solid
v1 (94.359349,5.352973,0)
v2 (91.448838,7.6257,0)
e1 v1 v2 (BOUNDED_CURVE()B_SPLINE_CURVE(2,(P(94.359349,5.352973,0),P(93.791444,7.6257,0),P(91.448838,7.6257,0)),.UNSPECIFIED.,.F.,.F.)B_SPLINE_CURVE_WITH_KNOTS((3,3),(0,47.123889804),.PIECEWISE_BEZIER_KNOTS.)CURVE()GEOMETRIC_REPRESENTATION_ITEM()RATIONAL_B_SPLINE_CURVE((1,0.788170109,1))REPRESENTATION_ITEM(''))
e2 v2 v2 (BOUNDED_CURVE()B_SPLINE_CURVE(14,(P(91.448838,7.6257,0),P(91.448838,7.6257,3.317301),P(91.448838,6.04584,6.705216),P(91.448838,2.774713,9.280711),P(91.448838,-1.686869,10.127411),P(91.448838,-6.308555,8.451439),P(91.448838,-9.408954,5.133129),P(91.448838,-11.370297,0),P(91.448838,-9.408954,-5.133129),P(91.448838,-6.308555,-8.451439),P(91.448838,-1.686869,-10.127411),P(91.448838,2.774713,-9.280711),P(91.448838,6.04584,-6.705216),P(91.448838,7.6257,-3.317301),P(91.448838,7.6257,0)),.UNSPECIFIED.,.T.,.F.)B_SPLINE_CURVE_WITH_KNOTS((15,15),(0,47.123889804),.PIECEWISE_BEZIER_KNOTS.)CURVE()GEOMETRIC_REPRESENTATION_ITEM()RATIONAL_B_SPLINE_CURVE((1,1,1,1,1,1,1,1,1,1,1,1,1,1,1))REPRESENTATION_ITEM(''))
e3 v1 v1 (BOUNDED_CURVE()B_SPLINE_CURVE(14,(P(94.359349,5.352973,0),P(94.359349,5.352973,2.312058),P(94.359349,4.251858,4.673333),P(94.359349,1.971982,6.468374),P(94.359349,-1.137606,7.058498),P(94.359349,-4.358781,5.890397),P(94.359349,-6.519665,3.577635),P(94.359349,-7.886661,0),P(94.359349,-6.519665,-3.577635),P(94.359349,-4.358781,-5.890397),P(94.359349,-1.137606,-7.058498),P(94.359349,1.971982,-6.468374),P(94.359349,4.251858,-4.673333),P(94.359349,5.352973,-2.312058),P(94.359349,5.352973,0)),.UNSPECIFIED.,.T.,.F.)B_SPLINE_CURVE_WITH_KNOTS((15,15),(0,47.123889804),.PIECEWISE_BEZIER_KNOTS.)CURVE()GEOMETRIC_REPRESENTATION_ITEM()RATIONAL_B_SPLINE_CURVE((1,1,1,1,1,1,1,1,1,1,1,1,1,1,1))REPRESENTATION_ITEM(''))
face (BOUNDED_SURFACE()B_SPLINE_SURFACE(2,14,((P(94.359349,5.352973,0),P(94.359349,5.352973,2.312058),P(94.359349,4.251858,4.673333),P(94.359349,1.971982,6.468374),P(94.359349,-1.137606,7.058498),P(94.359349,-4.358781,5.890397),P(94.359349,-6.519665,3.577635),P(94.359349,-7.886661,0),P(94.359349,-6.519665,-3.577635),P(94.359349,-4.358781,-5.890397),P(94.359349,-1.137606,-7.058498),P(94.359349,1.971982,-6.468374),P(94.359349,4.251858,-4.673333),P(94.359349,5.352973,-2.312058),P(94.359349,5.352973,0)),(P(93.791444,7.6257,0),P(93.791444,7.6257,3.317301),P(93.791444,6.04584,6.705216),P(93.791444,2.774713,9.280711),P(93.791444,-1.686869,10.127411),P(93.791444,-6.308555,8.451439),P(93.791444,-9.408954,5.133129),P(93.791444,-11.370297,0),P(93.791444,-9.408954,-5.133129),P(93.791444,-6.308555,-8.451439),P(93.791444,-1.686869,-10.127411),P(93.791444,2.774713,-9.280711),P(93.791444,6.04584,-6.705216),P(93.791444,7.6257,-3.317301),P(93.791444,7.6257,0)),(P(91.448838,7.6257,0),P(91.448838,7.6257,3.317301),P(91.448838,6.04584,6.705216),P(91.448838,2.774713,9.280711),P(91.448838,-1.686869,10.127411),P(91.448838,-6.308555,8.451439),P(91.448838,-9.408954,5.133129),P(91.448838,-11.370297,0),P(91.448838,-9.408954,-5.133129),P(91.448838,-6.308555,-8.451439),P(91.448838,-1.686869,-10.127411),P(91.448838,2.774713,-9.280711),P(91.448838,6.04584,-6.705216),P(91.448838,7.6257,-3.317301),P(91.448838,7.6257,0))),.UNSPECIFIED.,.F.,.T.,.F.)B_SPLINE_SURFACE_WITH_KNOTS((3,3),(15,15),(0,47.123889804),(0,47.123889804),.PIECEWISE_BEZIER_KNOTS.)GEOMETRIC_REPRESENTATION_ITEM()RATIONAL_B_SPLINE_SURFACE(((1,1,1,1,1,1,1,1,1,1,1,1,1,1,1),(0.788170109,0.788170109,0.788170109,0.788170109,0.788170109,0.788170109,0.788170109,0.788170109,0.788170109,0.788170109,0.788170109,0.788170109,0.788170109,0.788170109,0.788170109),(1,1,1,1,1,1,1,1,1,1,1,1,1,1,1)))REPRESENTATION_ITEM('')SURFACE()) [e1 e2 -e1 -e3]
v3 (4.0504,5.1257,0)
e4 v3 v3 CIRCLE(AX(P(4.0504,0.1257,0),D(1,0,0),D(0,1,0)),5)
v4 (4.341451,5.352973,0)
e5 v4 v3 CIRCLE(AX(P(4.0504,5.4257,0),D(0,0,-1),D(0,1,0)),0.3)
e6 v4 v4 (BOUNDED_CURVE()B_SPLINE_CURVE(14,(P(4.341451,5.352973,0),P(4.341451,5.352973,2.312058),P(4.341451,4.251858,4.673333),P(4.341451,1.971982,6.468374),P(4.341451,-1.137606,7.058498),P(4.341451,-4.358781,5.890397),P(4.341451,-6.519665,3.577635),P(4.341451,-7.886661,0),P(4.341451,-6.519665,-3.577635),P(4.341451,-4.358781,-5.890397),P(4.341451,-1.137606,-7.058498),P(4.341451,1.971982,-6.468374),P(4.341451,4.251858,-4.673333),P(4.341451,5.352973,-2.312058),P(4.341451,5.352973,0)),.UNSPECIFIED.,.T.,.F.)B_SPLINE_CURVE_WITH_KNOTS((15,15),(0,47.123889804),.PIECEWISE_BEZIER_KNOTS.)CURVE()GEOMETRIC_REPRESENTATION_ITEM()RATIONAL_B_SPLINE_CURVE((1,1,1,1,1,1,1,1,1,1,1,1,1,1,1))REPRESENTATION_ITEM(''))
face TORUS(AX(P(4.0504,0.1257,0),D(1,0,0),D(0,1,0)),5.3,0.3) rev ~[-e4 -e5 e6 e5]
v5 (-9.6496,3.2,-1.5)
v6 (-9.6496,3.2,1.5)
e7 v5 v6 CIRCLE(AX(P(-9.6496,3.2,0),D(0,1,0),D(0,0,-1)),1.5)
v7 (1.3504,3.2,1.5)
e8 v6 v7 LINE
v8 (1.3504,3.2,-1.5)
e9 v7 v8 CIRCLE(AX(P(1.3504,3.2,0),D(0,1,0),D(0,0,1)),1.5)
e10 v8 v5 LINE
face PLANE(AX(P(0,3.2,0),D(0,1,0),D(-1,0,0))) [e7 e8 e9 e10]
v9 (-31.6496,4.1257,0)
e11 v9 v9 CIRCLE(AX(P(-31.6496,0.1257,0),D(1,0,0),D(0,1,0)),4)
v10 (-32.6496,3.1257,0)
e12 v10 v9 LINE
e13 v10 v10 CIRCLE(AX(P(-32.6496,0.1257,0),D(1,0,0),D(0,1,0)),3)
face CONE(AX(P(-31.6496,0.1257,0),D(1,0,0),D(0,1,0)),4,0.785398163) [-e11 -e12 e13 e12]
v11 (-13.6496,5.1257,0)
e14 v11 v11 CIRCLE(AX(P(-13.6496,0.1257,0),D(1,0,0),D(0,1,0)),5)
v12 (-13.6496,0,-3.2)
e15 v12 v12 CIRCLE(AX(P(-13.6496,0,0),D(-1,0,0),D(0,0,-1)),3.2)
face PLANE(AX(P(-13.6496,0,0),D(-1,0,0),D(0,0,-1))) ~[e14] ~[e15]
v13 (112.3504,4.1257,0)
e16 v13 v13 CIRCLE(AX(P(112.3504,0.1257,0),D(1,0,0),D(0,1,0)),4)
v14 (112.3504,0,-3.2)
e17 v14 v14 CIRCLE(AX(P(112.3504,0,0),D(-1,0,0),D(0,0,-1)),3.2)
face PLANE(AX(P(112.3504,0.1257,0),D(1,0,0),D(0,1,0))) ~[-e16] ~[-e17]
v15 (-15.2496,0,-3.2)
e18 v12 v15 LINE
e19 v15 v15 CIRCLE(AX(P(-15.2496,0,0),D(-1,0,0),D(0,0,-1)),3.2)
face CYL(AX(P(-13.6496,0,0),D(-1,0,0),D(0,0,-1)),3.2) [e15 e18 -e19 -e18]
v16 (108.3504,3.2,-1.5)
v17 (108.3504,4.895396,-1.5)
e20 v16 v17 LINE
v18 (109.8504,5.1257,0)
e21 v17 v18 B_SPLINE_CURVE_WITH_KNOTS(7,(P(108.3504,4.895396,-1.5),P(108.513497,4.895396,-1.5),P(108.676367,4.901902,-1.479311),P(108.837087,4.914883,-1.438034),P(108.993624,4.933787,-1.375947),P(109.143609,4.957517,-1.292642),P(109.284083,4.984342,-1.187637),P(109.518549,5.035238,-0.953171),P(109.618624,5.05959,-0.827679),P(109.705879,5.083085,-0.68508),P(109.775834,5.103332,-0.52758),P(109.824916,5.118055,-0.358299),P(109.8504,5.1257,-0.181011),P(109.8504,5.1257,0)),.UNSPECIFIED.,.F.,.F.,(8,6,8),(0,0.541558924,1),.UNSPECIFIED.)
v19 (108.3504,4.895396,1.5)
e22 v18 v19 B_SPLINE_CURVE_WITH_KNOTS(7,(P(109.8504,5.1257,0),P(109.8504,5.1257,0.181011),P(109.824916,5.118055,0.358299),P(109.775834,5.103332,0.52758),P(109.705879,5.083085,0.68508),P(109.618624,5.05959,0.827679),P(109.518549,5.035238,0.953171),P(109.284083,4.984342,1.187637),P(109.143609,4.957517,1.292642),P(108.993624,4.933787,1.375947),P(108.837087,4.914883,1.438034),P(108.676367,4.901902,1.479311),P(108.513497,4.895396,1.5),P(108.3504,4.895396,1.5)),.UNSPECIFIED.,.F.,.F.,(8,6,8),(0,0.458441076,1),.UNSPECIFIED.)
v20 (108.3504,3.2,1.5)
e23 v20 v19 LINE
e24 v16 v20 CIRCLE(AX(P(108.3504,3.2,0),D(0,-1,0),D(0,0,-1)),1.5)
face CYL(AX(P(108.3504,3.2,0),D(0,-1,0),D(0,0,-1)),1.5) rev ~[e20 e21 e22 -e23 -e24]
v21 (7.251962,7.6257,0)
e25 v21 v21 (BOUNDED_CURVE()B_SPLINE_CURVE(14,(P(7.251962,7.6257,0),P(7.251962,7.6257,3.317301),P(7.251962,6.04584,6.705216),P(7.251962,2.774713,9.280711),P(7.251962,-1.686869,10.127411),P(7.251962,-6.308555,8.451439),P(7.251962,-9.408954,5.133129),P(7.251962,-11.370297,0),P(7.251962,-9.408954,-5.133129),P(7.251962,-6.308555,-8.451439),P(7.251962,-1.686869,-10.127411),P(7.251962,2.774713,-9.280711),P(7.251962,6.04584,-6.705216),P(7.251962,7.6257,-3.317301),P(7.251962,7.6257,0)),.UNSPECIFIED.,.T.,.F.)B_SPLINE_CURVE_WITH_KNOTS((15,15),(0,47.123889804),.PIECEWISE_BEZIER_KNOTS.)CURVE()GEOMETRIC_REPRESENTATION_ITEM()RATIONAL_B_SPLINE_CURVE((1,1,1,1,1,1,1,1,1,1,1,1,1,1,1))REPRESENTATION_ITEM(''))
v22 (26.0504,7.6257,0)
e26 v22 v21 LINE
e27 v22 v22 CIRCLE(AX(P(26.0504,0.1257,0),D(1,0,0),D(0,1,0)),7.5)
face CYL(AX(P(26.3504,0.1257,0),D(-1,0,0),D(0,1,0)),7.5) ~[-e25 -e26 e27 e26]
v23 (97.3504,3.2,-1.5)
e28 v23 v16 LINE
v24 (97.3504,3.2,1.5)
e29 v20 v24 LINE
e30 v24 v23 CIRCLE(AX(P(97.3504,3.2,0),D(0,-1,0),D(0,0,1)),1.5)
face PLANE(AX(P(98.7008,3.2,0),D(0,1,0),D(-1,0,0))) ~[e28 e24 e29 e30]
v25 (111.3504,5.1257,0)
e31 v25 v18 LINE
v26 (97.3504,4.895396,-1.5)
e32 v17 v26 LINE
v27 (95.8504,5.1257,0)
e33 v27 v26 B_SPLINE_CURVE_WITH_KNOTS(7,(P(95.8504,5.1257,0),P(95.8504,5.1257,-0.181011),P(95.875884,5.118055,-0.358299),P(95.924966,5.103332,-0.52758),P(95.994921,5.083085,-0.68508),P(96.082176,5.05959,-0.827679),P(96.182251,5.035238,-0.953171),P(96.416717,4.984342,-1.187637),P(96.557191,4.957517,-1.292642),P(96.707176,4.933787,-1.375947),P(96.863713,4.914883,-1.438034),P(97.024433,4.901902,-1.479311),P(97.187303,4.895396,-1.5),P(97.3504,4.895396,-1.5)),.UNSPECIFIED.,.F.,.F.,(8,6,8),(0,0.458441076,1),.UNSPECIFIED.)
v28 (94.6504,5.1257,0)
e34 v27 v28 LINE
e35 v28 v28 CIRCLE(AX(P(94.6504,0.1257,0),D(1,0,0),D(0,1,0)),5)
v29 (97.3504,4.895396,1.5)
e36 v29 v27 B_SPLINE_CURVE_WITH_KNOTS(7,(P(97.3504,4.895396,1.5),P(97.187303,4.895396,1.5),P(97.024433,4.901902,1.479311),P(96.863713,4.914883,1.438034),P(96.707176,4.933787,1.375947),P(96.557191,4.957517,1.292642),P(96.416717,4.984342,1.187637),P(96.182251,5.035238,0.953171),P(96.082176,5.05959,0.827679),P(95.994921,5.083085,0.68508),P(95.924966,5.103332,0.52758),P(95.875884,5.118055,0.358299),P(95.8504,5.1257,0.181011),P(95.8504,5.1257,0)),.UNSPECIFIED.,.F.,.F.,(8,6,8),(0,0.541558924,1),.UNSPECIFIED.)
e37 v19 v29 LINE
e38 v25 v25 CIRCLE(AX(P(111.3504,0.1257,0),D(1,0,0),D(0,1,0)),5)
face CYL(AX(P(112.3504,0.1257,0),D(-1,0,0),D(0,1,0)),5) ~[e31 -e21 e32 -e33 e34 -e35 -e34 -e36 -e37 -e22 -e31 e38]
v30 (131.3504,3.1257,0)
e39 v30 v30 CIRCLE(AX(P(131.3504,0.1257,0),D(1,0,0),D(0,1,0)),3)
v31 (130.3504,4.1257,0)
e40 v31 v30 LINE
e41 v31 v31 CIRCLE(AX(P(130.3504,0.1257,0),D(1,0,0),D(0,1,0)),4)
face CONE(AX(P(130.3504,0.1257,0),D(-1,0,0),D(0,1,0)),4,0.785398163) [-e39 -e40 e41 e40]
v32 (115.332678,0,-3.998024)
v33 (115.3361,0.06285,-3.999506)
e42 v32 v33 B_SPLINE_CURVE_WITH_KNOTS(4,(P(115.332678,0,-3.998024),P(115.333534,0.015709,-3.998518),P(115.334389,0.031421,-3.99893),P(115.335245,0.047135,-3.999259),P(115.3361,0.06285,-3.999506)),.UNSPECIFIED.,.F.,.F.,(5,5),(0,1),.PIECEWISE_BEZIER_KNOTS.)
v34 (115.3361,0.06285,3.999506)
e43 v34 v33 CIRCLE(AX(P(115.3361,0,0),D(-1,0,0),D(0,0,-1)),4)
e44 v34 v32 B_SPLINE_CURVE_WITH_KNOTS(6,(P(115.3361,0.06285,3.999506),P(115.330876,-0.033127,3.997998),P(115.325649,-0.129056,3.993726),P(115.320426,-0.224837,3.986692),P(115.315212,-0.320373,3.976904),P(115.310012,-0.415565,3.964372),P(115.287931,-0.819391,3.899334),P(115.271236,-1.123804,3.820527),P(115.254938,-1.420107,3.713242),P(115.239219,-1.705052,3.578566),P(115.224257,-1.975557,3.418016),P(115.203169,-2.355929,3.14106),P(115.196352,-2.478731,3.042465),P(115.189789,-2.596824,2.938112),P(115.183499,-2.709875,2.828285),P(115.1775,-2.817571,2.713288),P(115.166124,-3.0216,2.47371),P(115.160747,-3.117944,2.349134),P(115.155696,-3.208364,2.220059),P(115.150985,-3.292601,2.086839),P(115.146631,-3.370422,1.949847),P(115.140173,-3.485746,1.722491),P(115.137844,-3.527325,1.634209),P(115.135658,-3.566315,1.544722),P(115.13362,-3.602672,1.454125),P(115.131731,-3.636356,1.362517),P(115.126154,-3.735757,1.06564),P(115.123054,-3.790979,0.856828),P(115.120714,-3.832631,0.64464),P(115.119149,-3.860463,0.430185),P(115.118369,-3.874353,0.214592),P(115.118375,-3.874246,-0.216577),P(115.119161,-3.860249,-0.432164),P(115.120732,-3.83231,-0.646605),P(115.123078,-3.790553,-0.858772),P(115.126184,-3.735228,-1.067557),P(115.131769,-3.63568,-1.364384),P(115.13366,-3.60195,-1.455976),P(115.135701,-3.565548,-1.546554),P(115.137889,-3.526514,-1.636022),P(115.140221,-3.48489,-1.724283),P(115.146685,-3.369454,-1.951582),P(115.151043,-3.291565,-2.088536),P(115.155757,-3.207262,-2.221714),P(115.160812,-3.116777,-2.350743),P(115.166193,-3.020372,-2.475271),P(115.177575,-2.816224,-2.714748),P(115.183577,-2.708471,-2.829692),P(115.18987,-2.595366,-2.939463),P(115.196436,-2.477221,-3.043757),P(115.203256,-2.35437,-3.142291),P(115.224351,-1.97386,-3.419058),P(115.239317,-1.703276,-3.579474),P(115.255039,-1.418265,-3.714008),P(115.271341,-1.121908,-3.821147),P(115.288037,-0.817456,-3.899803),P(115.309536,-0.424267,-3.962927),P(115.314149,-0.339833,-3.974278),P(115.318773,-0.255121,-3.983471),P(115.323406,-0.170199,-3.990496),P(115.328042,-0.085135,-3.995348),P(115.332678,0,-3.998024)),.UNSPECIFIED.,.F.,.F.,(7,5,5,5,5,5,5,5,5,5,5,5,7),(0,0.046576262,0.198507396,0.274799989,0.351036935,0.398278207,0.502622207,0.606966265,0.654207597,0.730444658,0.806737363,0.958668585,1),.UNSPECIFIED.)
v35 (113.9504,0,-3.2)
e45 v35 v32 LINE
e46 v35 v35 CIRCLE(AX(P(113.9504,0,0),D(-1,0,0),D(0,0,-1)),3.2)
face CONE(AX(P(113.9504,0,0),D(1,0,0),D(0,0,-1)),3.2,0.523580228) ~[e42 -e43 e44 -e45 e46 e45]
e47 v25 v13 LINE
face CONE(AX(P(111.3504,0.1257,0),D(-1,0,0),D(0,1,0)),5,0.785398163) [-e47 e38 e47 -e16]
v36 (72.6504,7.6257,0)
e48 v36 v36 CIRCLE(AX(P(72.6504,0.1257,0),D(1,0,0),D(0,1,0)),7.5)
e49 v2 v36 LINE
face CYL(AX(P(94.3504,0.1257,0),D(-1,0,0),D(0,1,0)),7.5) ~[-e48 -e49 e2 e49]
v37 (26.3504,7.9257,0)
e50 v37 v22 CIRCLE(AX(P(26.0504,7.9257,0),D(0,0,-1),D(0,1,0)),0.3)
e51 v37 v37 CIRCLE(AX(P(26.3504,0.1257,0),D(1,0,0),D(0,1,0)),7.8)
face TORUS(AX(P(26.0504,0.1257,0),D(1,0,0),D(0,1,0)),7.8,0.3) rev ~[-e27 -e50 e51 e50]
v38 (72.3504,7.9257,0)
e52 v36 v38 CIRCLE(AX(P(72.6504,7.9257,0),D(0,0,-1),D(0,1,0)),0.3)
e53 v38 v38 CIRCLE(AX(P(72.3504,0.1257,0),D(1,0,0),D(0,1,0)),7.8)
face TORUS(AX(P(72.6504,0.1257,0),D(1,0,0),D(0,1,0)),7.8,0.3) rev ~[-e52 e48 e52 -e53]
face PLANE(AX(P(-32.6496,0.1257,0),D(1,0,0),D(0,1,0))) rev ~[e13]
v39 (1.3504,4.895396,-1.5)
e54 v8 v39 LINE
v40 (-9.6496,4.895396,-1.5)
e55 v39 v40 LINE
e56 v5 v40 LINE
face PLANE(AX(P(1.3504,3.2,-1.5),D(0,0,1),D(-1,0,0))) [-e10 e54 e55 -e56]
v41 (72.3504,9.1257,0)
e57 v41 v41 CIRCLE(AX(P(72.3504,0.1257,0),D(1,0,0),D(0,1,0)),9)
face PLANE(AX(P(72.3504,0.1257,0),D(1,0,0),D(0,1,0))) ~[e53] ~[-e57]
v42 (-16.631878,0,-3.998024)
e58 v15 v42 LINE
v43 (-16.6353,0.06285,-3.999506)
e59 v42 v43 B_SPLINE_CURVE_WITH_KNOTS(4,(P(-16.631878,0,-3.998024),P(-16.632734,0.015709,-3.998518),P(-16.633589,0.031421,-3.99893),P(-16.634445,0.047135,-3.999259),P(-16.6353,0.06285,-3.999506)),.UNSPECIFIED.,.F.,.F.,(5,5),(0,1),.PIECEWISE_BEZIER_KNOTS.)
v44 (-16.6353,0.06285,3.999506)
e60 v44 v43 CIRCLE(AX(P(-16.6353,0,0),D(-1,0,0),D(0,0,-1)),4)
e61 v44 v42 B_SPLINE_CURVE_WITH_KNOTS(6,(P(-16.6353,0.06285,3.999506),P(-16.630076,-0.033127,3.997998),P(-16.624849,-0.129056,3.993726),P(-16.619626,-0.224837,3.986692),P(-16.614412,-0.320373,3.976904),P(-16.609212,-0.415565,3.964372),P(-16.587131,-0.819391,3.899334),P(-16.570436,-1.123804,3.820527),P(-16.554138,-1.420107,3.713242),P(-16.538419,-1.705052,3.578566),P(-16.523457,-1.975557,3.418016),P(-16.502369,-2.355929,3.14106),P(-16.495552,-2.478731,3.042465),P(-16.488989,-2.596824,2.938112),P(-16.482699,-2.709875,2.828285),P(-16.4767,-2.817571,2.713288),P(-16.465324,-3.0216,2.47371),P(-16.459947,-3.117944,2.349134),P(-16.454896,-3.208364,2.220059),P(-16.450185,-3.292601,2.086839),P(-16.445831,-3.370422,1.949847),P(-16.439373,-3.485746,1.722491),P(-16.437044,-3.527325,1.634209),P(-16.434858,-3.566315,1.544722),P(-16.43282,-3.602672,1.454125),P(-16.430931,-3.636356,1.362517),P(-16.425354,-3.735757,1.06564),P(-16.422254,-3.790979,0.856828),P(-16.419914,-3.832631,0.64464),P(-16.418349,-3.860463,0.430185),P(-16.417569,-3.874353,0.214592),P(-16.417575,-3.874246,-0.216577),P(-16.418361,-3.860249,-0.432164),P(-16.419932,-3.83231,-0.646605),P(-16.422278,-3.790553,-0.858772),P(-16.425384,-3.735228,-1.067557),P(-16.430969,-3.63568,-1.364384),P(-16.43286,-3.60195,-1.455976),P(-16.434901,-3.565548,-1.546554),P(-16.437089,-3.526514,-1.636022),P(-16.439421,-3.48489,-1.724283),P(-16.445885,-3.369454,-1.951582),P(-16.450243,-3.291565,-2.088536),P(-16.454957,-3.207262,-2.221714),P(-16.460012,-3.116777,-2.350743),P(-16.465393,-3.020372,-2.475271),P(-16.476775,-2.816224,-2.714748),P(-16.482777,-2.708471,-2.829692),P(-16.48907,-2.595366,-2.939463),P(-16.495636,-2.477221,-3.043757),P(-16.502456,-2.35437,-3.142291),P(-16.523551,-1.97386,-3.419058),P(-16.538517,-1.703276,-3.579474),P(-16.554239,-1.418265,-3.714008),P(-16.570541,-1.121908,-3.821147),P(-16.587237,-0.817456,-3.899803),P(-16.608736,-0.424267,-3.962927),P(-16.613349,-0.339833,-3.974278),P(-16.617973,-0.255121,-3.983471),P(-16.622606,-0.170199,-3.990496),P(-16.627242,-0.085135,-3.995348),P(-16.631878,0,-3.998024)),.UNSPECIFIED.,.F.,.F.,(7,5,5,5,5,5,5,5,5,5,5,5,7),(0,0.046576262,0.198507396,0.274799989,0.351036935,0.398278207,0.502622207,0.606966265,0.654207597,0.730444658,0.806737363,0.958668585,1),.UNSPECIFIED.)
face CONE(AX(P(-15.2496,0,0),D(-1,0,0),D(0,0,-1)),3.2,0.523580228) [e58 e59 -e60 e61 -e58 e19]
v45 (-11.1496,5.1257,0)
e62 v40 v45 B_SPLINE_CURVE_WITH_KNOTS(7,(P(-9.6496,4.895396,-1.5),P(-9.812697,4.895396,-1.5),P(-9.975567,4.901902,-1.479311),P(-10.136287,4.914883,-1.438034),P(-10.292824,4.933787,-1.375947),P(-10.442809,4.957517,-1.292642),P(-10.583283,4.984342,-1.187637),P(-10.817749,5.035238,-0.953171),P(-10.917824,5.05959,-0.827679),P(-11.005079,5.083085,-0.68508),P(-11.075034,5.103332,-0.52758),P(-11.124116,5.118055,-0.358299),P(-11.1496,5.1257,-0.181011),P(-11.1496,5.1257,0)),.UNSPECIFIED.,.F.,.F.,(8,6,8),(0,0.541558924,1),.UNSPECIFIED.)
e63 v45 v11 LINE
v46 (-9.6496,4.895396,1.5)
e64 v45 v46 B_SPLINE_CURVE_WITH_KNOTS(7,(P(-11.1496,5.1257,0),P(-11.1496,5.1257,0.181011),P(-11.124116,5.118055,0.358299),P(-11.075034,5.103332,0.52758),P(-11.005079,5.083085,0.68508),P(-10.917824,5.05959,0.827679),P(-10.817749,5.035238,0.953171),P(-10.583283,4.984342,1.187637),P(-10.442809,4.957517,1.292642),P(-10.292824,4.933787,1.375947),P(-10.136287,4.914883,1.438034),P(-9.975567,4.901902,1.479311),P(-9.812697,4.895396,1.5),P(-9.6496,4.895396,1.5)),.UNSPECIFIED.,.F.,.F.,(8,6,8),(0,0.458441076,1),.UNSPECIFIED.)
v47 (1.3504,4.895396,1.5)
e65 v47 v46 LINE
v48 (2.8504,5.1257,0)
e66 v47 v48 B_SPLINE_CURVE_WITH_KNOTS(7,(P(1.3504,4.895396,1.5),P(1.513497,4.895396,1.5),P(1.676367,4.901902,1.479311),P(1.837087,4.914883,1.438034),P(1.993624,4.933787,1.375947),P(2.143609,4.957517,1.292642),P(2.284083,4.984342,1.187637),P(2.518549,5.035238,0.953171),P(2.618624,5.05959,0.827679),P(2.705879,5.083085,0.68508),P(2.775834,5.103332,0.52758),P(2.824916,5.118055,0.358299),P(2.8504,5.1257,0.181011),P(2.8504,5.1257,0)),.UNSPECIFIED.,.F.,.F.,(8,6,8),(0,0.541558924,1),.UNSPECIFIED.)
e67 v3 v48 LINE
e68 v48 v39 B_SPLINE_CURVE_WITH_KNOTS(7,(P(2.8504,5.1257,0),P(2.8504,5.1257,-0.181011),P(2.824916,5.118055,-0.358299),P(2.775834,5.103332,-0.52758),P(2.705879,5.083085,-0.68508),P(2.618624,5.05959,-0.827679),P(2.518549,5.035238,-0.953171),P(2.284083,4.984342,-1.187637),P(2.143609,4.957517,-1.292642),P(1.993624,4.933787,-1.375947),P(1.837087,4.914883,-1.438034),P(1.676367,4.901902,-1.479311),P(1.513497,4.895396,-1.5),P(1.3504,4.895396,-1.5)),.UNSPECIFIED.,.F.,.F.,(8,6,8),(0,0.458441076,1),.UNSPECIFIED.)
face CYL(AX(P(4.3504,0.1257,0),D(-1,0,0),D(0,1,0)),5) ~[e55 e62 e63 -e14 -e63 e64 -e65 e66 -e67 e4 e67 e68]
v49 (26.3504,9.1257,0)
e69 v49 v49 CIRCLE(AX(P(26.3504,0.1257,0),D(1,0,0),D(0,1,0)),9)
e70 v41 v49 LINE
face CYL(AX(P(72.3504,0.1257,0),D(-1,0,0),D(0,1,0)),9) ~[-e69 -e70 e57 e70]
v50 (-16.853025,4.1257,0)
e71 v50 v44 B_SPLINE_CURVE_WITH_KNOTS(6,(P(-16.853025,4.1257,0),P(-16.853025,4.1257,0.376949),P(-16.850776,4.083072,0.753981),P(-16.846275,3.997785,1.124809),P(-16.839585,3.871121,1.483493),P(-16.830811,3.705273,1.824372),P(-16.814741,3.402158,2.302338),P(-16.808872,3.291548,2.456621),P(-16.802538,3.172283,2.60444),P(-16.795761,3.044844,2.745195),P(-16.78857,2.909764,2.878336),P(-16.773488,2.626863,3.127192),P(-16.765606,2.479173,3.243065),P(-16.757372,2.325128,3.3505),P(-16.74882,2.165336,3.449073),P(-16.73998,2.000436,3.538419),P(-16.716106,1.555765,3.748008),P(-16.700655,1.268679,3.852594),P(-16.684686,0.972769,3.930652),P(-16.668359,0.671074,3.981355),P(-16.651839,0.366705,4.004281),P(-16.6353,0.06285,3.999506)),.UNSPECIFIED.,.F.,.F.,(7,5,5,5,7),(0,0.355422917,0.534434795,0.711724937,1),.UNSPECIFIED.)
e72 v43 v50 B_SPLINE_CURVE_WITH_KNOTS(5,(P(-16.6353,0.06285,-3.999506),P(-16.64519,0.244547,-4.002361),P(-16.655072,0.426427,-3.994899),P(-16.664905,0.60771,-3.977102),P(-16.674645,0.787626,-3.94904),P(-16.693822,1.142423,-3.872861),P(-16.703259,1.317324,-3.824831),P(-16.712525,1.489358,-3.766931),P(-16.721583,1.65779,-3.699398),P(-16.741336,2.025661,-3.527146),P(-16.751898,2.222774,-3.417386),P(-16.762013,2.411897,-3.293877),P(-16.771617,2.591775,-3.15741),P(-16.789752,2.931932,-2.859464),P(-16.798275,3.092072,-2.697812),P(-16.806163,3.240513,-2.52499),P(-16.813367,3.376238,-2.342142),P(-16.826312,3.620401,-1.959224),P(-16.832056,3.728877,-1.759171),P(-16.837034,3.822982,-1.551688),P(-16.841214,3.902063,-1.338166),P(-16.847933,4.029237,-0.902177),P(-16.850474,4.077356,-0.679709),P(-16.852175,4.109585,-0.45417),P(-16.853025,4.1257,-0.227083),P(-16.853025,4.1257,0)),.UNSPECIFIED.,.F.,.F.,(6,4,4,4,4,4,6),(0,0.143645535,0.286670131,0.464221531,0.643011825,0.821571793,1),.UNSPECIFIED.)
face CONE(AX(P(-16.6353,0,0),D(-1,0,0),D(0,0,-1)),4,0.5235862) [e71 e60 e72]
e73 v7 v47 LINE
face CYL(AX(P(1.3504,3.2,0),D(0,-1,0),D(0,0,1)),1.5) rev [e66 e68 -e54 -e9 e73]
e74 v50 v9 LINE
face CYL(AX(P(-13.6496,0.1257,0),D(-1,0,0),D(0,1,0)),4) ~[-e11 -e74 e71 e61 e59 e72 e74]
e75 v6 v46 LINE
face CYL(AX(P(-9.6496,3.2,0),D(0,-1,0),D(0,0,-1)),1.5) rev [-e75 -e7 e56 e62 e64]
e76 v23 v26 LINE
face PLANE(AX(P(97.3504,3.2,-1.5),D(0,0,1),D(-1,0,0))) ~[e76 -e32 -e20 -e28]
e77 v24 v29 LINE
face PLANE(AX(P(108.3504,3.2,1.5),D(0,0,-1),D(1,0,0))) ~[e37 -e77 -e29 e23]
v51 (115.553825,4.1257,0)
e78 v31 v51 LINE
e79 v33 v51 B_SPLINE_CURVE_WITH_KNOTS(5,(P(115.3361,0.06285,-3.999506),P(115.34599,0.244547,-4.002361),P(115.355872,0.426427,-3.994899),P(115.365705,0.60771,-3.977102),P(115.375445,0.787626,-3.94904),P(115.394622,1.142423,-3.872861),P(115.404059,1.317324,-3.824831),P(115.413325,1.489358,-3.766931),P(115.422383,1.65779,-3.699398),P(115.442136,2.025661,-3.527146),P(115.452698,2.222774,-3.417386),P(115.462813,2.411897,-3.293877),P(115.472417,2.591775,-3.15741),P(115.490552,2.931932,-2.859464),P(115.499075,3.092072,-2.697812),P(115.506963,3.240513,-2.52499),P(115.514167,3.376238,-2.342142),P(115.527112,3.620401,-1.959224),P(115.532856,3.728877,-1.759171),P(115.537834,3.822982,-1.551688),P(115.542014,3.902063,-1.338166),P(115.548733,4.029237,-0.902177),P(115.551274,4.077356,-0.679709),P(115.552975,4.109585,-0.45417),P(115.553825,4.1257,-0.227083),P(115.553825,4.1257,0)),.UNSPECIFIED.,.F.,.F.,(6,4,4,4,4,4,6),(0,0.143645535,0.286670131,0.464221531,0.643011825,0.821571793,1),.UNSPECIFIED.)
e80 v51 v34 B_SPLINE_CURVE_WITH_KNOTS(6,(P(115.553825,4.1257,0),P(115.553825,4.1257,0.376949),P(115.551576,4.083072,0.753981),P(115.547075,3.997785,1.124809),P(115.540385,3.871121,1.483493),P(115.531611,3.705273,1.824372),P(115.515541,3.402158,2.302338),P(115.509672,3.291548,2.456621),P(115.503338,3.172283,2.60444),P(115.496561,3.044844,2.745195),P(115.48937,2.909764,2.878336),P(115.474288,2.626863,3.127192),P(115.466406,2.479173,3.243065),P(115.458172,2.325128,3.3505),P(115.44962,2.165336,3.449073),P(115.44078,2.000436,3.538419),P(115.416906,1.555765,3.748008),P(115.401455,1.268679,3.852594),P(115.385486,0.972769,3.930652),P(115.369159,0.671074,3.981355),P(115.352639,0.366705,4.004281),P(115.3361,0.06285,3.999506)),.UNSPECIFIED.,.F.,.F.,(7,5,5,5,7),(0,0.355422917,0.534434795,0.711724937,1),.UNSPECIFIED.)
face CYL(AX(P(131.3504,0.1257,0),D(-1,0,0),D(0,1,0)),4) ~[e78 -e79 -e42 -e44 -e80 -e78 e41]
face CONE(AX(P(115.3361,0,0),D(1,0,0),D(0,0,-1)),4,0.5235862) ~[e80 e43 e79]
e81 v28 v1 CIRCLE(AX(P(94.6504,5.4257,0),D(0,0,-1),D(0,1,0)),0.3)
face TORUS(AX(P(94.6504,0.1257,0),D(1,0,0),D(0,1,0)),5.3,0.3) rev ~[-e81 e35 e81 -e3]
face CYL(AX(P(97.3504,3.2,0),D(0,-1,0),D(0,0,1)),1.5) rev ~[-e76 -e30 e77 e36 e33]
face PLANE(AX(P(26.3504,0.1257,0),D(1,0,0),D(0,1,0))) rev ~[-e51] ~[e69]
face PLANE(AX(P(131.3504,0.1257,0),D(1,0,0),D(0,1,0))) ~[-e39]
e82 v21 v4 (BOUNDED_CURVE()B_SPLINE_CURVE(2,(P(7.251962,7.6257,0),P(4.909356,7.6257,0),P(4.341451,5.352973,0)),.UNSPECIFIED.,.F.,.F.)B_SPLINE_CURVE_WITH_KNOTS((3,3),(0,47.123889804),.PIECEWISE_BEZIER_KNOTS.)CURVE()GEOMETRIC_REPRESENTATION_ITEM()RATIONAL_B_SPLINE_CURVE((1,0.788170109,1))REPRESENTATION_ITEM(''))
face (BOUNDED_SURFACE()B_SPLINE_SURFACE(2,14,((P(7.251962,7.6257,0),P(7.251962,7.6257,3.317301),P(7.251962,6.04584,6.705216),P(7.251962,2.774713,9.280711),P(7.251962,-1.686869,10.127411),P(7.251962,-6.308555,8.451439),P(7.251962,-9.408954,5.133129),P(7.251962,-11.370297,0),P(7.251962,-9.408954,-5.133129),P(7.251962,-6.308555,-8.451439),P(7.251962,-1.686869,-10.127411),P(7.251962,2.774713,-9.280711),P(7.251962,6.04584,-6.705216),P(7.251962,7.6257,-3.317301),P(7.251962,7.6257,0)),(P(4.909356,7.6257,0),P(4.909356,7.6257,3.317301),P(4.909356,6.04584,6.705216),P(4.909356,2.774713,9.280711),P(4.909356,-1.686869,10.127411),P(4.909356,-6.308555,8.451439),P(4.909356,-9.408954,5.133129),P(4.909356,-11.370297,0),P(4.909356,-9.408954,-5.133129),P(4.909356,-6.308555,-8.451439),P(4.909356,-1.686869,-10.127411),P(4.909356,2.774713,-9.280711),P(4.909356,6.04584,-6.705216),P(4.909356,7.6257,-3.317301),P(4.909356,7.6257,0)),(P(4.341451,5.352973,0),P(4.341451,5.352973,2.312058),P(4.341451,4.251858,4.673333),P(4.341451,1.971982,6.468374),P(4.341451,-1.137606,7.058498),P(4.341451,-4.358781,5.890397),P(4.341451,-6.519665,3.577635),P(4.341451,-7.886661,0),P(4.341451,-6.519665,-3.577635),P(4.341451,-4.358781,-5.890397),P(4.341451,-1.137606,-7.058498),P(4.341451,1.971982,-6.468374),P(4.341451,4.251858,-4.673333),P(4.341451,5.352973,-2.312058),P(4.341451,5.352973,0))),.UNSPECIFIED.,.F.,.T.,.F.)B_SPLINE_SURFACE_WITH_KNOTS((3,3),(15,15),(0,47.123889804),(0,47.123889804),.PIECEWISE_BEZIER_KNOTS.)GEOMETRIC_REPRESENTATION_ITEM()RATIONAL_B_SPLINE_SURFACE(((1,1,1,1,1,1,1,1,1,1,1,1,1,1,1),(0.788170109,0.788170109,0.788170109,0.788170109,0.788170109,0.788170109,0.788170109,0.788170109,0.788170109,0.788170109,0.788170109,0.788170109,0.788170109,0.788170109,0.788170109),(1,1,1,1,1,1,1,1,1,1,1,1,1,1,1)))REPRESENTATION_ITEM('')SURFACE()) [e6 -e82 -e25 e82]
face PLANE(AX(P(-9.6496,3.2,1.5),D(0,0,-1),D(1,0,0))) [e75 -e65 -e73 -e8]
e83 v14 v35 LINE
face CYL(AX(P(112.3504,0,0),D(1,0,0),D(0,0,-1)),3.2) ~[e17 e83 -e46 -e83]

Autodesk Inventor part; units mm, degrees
ref_plane "YZ Plane" through (0, 0, 0) normal (1, 0, 0) x (0, 1, 0)
sketch "스케치1" plane through (0, 0, 0) normal (0, 0, 1) x (1, 0, 0)
  line L0 (-32.6496, 0.1257) -> (-13.6496, 0.1257)
  line L1 (-13.6496, 0.1257) -> (-13.6496, 4.1257)
  line L2 (-13.6496, 4.1257) -> (-32.6496, 4.1257)
  line L3 (-32.6496, 4.1257) -> (-32.6496, 0.1257)
  line L4 (-13.6496, 0.1257) -> (4.3504, 0.1257)
  line L5 (4.3504, 0.1257) -> (4.3504, 5.1257)
  line L6 (4.3504, 5.1257) -> (-13.6496, 5.1257)
  line L7 (-13.6496, 5.1257) -> (-13.6496, 0.1257)
  line L8 (4.3504, 0.1257) -> (26.3504, 0.1257)
  line L9 (26.3504, 0.1257) -> (26.3504, 7.6257)
  line L10 (26.3504, 7.6257) -> (4.3504, 7.6257)
  line L11 (4.3504, 7.6257) -> (4.3504, 0.1257)
  line L12 (26.3504, 0.1257) -> (72.3504, 0.1257)
  line L13 (72.3504, 0.1257) -> (72.3504, 9.1257)
  line L14 (72.3504, 9.1257) -> (26.3504, 9.1257)
  line L15 (26.3504, 9.1257) -> (26.3504, 0.1257)
  line L16 (72.3504, 0.1257) -> (94.3504, 0.1257)
  line L17 (94.3504, 0.1257) -> (94.3504, 7.6257)
  line L18 (94.3504, 7.6257) -> (72.3504, 7.6257)
  line L19 (72.3504, 7.6257) -> (72.3504, 0.1257)
  line L20 (94.3504, 0.1257) -> (112.3504, 0.1257)
  line L21 (112.3504, 0.1257) -> (112.3504, 5.1257)
  line L22 (112.3504, 5.1257) -> (94.3504, 5.1257)
  line L23 (94.3504, 5.1257) -> (94.3504, 0.1257)
  line L24 (112.3504, 0.1257) -> (131.3504, 0.1257)
  line L25 (131.3504, 0.1257) -> (131.3504, 4.1257)
  line L26 (131.3504, 4.1257) -> (112.3504, 4.1257)
  line L27 (112.3504, 4.1257) -> (112.3504, 0.1257)
  dimension "d6" = 19
  dimension "d7" = 4
  dimension "d8" = 18
  dimension "d9" = 5
  dimension "d10" = 22
  dimension "d11" = 7.5
  dimension "d12" = 46
  dimension "d13" = 9
  dimension "d14" = 22
  dimension "d15" = 7.5
  dimension "d16" = 18
  dimension "d17" = 5
  dimension "d18" = 19
  dimension "d19" = 4
revolve "회전1" add sketch "스케치1" angle 360 about axis through (4.3504, 0.1257, 0) along (1, 0, 0)
ref_plane "작업 평면1" through (0, 3.2, 0) normal (0, 1, 0) x (-1, 0, 0)
sketch "스케치2" plane through (0, 3.2, 0) normal (0, 1, 0) x (-1, 0, 0)
  line L0 (9.6496, 0) -> (-1.3504, 0) construction
  line L1 (9.6496, 1.5) -> (-1.3504, 1.5)
  line L2 (-1.3504, -1.5) -> (9.6496, -1.5)
  arc A0 (9.6496, -1.5) -> (9.6496, 1.5) centre (9.6496, 0) ccw
  arc A1 (-1.3504, 1.5) -> (-1.3504, -1.5) centre (-1.3504, 0) ccw
  line L3 (-4.3504, 5) -> (-4.3504, -5) projected
  point P0 (0, 0)
  point P1 (4.1496, 0)
  point P2 (11.1496, 0)
  point P3 (-2.8504, 0)
  dimension "d23" = 3
  dimension "d24" = 14
  dimension "d25" = 3
extrude "돌출1" cut sketch "스케치2" along normal blind 10
chamfer "모따기1" distance 1 angle 45 2 edges at (131.3504, -3.8743, 0) (-32.6496, -3.8743, 0)
sketch "스케치3" plane through (0, 0, 0) normal (0, 1, 0) x (-1, 0, 0)
  line L0 (-4.3504, 5) -> (-4.3504, -5) projected
  line L1 (13.6496, 4) -> (13.6496, -4) projected
  line L2 (13.6496, -3.2) -> (15.2496, -3.2)
  line L3 (15.2496, -3.2) -> (16.6353, -4)
  line L4 (31.6496, -4) -> (13.6496, -4) projected
  line L5 (16.6859, -4) -> (13.6496, -4)
  line L6 (13.6496, -3.2) -> (13.6496, -4)
  line L7 (38.8496, 0) -> (-11.5504, 0) projected
  line L8 (16.6353, -4) -> (19.0062, -5.3688)
  line L9 (19.0062, -5.3688) -> (13.6496, -5.3688)
  line L10 (13.6496, -4) -> (13.6496, -5.3688)
  line L11 (13.6496, 5) -> (13.6496, -5) projected
  point P0 (0, 0)
  dimension "d34" = 30
  dimension "d35" = 1.6
  dimension "d36" = 0.8
revolve "회전2" cut sketch "스케치3" angle 360 about axis through (-10, 0, 0) along (-1, 0, 0)
sketch "스케치4" plane through (0, 0, 0) normal (0, 0, 1) x (1, 0, 0)
  point P0 (0, 0)
ref_plane "작업 평면2" through (49.3504, 0.1257, 0) normal (1, 0, 0) x (0, 0, -1)
mirror "미러1" about plane through (49.3504, 0.1257, 0) normal (1, 0, 0) of "회전2", "돌출1"
chamfer "모따기2" distance 1 angle 45 1 edges at (112.3504, -4.8743, 0)
fillet "모깎기1" radius 0.3 4 edges at (94.3504, -4.8743, 0) (4.3504, -4.8743, 0) (26.3504, -7.3743, 0) (72.3504, -7.3743, 0)
fillet "모깎기2" radius 3 2 edges at (94.3504, -7.3743, 0) (4.3504, -7.3743, 0)
thread "스레드1" size "M8x1" class "6g" standard "ANSI Metric M Profile" full length
properties part number "부품1"
